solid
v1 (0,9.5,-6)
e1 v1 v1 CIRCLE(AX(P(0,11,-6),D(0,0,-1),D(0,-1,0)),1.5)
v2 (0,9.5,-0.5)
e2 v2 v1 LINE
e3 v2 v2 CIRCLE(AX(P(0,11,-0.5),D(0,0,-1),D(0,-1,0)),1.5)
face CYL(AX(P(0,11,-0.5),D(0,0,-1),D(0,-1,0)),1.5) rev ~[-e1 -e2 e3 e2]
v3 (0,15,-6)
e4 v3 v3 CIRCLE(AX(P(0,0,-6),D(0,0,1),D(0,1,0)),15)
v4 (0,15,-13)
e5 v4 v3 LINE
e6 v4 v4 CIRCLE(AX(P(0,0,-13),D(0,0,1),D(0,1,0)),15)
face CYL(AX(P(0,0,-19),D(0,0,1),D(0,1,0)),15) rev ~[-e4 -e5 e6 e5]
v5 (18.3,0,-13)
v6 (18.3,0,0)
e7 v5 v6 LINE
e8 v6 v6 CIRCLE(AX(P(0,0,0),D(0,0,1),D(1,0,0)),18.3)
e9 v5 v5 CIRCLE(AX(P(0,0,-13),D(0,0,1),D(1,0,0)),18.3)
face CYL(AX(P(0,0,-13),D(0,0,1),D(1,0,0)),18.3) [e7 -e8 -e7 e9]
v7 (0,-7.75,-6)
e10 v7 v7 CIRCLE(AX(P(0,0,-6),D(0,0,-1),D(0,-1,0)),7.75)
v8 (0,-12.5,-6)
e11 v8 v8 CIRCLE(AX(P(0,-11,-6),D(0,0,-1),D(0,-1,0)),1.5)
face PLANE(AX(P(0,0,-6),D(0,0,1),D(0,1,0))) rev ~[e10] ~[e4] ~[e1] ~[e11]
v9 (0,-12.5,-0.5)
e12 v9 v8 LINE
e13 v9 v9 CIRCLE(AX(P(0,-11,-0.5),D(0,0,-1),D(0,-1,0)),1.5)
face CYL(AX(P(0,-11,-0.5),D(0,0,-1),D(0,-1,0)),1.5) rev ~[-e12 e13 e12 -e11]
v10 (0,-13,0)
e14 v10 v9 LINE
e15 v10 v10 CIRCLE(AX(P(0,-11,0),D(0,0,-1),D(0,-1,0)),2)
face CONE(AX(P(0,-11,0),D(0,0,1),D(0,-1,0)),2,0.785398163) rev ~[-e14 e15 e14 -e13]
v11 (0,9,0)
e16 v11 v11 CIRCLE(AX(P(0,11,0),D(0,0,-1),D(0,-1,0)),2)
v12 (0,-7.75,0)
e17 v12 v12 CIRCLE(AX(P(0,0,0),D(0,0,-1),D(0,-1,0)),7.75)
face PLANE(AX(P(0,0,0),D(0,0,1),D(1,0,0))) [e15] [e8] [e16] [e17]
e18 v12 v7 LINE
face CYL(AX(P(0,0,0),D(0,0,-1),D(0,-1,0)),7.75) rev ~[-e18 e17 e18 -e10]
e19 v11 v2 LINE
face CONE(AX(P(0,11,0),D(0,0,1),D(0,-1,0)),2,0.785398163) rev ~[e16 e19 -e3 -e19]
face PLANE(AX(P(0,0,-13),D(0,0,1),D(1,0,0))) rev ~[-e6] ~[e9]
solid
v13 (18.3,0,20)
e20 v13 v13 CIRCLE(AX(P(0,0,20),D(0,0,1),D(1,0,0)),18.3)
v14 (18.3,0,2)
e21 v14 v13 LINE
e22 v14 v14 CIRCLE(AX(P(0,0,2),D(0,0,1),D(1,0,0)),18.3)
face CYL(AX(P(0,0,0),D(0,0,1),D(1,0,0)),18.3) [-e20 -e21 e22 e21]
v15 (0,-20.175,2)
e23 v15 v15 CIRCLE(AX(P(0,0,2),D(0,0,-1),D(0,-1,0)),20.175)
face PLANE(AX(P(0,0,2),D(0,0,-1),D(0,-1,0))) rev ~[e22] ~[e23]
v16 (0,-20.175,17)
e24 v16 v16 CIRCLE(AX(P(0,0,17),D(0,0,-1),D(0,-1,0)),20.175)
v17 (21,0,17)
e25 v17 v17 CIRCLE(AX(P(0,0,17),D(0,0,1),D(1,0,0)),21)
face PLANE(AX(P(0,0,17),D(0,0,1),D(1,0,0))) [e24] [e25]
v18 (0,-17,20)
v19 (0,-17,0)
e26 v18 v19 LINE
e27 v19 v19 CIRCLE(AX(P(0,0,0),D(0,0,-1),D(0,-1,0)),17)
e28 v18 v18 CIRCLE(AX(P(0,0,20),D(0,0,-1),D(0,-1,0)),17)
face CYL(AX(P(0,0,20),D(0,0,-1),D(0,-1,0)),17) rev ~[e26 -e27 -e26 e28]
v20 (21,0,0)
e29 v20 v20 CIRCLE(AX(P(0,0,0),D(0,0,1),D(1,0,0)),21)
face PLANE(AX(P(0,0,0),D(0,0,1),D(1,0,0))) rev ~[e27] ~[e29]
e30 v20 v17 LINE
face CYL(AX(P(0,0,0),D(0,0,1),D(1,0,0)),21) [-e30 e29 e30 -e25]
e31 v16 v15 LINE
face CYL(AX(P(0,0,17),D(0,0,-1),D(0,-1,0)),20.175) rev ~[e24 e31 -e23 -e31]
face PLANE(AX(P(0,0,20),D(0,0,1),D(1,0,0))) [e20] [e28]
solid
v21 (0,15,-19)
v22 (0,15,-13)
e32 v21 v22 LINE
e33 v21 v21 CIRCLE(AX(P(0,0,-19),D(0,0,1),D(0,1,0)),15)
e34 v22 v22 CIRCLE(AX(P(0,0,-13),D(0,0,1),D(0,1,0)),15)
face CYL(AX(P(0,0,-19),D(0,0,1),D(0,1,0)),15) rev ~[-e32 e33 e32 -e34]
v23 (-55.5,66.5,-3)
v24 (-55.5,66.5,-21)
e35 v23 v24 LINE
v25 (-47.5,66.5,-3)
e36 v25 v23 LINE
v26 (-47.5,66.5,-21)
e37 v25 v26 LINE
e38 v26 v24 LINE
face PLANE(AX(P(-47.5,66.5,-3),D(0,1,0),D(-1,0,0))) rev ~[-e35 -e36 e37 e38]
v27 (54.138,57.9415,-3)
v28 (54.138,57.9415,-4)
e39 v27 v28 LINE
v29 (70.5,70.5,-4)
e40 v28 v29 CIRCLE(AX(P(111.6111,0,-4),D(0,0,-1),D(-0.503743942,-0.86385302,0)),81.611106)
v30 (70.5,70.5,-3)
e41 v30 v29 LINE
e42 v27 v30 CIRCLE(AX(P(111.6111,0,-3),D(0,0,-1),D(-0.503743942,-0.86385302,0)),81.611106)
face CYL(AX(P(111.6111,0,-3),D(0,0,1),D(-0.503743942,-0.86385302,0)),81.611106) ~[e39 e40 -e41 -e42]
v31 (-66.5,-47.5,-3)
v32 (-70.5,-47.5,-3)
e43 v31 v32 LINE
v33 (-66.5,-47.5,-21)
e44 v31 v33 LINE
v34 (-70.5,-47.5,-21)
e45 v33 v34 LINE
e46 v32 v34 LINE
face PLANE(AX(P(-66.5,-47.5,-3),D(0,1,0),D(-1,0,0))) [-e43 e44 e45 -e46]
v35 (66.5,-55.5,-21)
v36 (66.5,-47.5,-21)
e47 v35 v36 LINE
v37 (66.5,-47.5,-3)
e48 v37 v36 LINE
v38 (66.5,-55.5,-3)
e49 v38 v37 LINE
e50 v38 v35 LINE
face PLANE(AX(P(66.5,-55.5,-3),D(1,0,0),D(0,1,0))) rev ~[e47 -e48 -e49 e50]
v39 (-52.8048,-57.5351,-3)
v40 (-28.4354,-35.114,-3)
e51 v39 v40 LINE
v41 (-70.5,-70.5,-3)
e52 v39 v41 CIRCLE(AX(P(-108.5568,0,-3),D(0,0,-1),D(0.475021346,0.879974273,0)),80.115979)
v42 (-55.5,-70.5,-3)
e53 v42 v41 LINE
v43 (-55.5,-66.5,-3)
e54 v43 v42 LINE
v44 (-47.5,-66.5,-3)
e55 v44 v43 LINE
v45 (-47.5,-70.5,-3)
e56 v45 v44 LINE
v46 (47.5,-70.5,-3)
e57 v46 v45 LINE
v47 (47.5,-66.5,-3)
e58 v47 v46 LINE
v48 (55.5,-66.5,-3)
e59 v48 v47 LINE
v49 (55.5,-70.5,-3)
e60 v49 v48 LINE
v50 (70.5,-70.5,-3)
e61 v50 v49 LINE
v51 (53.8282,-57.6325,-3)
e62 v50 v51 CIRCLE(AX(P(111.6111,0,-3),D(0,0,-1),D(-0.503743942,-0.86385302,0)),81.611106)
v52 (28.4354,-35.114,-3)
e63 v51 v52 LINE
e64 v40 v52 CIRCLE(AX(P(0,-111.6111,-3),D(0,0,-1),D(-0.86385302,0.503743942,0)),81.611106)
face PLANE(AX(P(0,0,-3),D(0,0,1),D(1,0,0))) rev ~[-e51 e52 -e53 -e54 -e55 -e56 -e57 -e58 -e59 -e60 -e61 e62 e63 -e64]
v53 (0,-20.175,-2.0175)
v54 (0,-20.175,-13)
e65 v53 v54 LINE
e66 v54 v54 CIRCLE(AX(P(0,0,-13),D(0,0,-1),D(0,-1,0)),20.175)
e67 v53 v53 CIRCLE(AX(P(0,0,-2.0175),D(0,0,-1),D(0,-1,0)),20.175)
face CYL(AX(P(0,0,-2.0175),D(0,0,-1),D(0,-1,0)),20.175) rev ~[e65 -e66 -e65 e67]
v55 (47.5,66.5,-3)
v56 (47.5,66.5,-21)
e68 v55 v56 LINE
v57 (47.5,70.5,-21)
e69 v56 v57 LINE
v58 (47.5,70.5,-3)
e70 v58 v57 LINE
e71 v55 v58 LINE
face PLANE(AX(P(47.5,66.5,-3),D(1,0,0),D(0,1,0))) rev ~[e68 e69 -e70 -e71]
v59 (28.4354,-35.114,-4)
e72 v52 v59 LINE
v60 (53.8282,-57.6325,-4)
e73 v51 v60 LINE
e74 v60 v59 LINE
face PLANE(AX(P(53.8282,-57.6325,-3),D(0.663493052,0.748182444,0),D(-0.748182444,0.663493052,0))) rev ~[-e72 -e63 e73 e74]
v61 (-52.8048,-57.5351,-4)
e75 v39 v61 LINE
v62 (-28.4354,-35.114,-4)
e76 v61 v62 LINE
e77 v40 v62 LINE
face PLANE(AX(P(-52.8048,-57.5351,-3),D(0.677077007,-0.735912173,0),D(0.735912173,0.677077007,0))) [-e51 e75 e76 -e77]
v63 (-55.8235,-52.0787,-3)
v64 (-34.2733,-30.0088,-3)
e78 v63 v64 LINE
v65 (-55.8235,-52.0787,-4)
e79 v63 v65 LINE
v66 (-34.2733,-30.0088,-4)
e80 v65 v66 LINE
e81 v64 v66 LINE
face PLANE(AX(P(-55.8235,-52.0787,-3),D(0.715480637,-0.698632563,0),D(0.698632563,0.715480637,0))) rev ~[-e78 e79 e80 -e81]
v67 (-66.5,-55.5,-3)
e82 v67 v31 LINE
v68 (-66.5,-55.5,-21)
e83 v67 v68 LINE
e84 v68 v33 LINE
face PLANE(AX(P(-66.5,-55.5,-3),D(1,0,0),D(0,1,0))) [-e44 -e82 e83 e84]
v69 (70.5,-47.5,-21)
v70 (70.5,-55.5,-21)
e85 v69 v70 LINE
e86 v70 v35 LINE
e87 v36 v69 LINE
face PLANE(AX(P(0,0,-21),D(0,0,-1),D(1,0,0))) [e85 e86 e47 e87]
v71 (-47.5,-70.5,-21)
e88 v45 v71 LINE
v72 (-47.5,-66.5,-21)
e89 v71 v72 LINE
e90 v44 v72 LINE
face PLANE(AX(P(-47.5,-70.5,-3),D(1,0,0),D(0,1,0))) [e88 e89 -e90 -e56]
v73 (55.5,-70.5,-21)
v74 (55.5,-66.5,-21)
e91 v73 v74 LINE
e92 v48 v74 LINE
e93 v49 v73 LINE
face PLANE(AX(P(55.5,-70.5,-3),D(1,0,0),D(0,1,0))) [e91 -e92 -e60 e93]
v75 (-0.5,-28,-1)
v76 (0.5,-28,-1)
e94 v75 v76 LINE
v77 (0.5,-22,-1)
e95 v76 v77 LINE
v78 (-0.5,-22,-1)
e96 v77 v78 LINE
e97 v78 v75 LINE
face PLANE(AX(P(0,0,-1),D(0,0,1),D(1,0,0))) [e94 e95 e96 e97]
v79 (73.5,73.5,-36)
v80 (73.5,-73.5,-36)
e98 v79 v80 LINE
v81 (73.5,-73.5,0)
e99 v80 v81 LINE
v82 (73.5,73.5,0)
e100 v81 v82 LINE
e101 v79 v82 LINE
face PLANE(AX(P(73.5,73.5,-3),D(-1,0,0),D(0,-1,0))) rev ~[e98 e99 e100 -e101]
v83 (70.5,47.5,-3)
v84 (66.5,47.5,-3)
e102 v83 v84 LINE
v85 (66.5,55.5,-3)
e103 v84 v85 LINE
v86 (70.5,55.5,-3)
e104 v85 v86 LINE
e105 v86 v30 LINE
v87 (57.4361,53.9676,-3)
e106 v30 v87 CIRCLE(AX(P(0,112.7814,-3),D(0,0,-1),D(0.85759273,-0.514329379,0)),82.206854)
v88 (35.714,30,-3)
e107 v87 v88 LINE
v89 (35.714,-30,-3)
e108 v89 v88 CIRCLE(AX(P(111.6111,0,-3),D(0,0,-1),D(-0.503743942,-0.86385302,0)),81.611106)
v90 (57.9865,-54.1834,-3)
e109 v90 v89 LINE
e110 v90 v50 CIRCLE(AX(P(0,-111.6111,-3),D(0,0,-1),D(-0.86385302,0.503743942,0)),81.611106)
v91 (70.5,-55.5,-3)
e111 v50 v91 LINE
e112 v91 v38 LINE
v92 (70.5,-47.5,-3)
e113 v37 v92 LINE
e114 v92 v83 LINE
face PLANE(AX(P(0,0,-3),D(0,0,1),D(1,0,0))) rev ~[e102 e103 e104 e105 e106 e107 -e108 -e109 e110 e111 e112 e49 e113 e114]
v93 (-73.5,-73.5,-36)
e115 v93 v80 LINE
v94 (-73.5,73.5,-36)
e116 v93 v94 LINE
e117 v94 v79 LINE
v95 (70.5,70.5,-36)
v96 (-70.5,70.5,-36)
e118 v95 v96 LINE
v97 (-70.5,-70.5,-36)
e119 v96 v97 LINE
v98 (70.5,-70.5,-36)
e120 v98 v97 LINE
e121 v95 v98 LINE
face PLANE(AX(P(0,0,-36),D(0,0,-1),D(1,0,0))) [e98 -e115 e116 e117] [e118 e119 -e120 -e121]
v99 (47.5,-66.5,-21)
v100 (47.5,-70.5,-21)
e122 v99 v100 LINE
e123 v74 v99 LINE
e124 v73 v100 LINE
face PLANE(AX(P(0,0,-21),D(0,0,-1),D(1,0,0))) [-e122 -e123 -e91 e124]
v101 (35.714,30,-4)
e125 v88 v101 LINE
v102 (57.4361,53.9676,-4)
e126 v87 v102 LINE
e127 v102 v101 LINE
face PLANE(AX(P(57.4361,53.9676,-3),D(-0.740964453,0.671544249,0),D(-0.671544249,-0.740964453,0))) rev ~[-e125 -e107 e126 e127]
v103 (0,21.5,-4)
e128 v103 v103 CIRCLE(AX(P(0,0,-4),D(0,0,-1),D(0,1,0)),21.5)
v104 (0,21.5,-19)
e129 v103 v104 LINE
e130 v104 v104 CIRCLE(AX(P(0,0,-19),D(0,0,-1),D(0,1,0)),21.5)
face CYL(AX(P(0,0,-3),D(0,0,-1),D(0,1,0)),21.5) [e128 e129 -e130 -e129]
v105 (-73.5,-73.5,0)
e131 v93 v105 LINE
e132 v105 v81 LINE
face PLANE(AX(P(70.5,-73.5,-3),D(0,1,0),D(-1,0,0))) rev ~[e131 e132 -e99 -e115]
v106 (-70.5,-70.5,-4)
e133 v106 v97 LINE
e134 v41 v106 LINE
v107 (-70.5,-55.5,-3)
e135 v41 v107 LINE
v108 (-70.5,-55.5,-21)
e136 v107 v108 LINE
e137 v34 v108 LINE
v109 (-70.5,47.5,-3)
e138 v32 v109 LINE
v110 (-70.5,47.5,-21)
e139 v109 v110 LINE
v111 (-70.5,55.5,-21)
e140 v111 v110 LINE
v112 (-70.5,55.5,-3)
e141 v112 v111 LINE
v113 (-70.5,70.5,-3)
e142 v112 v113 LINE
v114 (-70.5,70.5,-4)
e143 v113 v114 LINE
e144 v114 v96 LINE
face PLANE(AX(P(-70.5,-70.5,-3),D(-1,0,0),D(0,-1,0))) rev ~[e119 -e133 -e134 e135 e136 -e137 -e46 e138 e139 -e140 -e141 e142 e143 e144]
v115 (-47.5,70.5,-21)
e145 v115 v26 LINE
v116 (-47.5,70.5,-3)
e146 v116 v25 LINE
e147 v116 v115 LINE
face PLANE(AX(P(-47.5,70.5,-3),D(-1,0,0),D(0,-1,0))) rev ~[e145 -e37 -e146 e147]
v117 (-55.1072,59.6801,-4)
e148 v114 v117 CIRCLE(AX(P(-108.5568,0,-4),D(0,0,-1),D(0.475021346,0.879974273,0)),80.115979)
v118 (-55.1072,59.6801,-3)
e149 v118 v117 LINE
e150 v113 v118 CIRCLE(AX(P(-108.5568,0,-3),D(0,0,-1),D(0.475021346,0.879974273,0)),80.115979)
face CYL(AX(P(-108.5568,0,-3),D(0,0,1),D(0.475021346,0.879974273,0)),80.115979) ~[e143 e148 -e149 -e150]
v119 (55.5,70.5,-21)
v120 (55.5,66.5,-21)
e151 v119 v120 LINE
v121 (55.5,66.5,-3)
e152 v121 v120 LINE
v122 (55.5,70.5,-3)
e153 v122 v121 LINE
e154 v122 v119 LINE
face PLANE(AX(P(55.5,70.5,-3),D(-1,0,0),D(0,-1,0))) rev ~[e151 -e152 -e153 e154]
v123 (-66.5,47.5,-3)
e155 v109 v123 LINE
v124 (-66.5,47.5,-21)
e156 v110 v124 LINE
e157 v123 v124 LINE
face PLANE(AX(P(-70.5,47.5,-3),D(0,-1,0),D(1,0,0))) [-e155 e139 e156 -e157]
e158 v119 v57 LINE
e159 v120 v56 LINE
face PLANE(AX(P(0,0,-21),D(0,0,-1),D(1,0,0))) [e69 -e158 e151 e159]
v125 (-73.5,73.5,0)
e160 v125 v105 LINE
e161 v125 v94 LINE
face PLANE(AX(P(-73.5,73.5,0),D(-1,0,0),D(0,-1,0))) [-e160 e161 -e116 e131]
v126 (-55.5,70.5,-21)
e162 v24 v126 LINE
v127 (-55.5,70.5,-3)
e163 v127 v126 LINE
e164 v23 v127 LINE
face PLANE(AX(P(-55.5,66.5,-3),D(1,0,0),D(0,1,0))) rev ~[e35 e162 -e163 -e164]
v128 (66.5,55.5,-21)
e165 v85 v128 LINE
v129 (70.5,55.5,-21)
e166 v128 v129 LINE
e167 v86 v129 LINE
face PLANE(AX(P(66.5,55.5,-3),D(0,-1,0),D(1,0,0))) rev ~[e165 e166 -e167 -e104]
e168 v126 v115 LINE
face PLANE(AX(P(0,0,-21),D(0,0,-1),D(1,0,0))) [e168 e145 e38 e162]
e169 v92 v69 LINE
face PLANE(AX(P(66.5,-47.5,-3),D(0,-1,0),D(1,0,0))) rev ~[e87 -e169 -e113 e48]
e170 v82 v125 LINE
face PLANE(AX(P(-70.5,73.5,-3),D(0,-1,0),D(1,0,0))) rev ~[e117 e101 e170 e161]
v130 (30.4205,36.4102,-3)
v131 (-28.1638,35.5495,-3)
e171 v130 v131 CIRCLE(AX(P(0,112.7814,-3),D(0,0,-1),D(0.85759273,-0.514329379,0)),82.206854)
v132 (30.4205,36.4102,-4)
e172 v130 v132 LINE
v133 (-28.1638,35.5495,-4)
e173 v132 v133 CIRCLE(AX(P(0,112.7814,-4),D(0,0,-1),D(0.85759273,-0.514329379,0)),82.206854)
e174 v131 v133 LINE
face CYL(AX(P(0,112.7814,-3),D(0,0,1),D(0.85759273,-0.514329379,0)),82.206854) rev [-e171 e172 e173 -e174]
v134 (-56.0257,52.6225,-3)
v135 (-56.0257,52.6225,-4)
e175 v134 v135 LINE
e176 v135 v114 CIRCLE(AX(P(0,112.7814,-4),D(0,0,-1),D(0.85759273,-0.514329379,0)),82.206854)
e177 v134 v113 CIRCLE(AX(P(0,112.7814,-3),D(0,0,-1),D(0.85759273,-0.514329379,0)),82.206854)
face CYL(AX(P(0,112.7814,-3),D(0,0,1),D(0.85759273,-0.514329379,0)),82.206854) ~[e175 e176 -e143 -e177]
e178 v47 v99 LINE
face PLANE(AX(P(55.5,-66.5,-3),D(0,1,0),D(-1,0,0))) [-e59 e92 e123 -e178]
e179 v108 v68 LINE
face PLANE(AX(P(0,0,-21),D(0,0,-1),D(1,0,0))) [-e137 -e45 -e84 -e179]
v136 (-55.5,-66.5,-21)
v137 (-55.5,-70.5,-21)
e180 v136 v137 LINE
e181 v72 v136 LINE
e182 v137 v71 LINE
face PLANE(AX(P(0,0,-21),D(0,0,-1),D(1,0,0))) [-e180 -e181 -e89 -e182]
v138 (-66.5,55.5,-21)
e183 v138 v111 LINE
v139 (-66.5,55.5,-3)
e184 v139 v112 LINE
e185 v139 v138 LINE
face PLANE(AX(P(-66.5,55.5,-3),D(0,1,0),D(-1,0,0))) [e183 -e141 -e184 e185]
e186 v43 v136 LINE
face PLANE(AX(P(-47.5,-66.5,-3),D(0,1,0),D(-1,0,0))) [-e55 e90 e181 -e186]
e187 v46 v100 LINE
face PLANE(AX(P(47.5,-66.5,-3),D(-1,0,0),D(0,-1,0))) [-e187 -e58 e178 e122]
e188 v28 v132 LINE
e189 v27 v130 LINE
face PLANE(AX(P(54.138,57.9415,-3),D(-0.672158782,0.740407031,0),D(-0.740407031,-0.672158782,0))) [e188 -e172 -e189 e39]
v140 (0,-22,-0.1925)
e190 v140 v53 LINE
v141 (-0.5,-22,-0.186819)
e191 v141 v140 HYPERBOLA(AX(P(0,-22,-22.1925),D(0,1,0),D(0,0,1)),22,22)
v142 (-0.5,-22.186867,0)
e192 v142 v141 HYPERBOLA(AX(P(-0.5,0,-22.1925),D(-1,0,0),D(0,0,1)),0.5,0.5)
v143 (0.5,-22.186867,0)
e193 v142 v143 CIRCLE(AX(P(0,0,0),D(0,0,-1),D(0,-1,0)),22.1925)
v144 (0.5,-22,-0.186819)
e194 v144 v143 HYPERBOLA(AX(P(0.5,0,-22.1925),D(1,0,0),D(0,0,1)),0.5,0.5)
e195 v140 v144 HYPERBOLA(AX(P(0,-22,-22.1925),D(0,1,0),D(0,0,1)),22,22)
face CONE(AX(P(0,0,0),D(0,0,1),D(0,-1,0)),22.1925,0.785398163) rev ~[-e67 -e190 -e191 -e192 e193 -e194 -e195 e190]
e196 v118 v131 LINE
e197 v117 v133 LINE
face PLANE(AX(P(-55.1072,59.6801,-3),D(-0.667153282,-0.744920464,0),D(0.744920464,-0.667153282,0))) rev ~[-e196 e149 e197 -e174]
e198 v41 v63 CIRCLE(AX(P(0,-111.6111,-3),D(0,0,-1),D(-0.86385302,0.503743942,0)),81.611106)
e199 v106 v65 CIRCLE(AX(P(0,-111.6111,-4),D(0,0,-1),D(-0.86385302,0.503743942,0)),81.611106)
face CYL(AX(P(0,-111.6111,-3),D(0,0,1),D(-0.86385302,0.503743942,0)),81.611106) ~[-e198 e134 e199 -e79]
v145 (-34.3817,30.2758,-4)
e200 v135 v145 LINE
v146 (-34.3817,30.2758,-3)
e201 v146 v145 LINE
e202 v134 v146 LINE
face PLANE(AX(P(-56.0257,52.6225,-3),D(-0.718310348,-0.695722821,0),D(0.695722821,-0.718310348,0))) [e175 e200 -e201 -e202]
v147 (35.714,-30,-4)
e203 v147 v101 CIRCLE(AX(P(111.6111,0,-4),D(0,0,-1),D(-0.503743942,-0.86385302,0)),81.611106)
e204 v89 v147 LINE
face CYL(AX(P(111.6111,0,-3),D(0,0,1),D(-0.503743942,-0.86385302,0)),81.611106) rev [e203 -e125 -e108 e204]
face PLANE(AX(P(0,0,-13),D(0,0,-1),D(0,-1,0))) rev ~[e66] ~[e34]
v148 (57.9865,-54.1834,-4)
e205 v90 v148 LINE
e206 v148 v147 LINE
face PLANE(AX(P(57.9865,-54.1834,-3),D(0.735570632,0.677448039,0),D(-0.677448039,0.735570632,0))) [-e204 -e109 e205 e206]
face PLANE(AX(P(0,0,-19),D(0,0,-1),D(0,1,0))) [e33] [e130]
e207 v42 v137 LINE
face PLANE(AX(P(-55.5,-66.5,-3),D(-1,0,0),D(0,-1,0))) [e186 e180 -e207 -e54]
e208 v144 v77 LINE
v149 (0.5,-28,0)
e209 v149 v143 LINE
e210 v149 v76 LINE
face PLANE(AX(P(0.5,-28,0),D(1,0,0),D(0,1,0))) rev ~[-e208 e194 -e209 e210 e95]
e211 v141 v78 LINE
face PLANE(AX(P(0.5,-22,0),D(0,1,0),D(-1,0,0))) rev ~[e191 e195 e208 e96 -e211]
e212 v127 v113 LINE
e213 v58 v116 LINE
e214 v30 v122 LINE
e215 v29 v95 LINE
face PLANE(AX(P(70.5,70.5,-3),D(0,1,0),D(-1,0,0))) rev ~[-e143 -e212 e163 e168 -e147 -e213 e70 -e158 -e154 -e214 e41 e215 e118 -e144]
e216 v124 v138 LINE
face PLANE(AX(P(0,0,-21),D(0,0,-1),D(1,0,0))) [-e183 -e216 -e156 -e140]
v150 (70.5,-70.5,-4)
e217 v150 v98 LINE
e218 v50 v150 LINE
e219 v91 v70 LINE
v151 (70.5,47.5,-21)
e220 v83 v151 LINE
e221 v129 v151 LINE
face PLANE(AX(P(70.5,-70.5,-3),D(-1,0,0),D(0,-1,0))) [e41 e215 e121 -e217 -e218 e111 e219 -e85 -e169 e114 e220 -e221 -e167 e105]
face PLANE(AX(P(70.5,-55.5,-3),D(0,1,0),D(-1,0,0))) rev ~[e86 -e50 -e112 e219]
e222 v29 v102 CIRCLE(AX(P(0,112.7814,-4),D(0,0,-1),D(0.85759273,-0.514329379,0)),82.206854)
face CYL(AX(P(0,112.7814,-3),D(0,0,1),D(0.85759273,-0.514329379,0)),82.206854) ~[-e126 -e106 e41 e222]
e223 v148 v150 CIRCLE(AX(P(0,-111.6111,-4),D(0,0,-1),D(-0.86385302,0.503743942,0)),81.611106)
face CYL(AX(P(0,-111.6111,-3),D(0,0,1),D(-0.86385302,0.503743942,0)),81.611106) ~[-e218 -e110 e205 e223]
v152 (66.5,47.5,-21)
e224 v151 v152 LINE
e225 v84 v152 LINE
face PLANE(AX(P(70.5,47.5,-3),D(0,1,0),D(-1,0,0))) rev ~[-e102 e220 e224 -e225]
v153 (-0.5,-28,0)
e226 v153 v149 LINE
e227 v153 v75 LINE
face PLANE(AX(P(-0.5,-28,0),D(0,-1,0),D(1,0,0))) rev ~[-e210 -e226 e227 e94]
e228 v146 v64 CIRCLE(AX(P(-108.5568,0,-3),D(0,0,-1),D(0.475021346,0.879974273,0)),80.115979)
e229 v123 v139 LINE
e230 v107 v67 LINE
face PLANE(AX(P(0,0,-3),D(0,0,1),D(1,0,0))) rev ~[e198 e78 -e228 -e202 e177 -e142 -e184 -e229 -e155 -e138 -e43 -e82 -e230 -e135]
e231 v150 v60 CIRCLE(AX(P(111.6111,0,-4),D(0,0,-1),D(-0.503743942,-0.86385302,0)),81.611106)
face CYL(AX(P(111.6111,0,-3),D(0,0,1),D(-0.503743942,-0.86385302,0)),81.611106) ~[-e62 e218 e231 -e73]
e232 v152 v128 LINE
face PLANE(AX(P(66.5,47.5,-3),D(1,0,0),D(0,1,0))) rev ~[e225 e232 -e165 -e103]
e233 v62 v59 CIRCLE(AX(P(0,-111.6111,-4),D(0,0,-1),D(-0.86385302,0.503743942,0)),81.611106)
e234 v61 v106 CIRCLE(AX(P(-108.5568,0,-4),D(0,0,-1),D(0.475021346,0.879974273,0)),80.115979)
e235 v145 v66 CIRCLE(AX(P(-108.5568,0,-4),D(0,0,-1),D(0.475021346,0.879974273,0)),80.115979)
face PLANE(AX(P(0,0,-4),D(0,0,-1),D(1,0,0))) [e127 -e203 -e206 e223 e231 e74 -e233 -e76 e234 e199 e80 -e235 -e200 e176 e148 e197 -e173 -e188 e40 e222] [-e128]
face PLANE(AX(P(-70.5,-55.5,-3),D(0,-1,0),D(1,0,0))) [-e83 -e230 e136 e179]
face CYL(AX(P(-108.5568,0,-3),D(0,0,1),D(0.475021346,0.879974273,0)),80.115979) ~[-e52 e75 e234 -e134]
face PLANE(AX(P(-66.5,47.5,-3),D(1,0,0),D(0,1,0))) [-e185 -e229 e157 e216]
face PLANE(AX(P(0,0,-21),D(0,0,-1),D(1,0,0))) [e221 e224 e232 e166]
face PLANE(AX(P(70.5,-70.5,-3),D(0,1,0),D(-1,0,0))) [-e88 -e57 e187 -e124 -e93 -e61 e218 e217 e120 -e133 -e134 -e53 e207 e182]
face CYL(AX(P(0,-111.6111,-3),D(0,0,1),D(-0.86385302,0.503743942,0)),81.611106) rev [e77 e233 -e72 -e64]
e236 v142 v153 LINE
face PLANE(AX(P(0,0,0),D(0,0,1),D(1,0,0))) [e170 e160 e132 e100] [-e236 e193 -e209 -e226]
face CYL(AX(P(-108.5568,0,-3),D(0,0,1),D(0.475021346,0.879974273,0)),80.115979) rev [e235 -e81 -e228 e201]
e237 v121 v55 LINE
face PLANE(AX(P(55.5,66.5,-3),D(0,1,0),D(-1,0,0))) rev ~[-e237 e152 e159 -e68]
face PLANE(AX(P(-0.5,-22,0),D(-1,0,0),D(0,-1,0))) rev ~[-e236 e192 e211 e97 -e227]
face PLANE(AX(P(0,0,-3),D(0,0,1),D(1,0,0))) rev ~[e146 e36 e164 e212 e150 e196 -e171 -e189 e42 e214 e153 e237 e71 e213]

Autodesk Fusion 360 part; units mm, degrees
sketch "Sketch1" plane through (0, 0, 0) normal (0, 0, 1) x (1, 0, 0)
cylinder "CylinderPrimitive1" add diameter 42 height 2 placed x (1, 0, 0) y (0, 1, 0) z (0, 0, 1) at (0, 0, 0) makes body 1
cylinder "CylinderPrimitive2" add diameter 42 height 15 placed x (1, 0, 0) y (0, 1, 0) z (0, 0, 1) at (0, 0, 2) bodies 1
hole "Hole1" at (0, 0, 17) direction (0, 0, -1) diameter 40.35 depth 15 tip angle 180 bodies 1
cylinder "CylinderPrimitive3" add diameter 36.6 height 20 placed x (1, 0, 0) y (0, 1, 0) z (0, 0, 1) at (0, 0, 0) bodies 1
hole "Hole2" at (0, 0, 20) direction (0, 0, -1) diameter 34 depth 20 tip angle 180 bodies 1
copy_body "Body->Comp1" bodies 1 removing the originals makes body 2 in component "Component"
sketch "Sketch1 (2)" plane through (0, 0, 0) normal (0, 0, 1) x (1, 0, 0) in component "TopCover"
  line L0 (-73.5, -73.5) -> (73.5, -73.5)
  line L1 (73.5, -73.5) -> (73.5, 73.5)
  line L2 (73.5, 73.5) -> (-73.5, 73.5)
  line L3 (-73.5, 73.5) -> (-73.5, -73.5)
  line L4 (-73.5, -73.5) -> (73.5, 73.5) construction
  line L5 (73.5, -73.5) -> (-73.5, 73.5) construction
  dimension "d13" = 147
  dimension "d14" = 147
extrude "Extrude1" add sketch "Sketch1 (2)" against normal blind 3 separate body makes body 3 in component "TopCover"
sketch "Sketch2" plane through (0, 0, -3) normal (0, 0, -1) x (1, 0, 0) in component "TopCover"
  line L0 (-73.5, 73.5) -> (-73.5, -73.5)
  line L1 (-73.5, -73.5) -> (73.5, -73.5)
  line L2 (73.5, -73.5) -> (73.5, 73.5)
  line L3 (73.5, 73.5) -> (-73.5, 73.5)
  line L4 (73.5, -73.5) -> (70.5, -73.5)
  line L5 (70.5, -73.5) -> (70.5, 73.5)
  line L6 (70.5, 73.5) -> (73.5, 73.5)
  line L7 (73.5, 73.5) -> (73.5, -73.5)
  line L8 (-73.5, -73.5) -> (-70.5, -73.5)
  line L9 (-70.5, -73.5) -> (-70.5, 73.5)
  line L10 (-70.5, 73.5) -> (-73.5, 73.5)
  line L11 (-73.5, 73.5) -> (-73.5, -73.5)
  line L12 (-70.5, 73.5) -> (70.5, 73.5)
  line L13 (70.5, 73.5) -> (70.5, 70.5)
  line L14 (70.5, 70.5) -> (-70.5, 70.5)
  line L15 (-70.5, 70.5) -> (-70.5, 73.5)
  line L16 (-70.5, -73.5) -> (70.5, -73.5)
  line L17 (70.5, -73.5) -> (70.5, -70.5)
  line L18 (70.5, -70.5) -> (-70.5, -70.5)
  line L19 (-70.5, -70.5) -> (-70.5, -73.5)
  dimension "d17" = 3
  dimension "d18" = 3
  dimension "d23" = 3
  dimension "d24" = 3
extrude "Extrude2" add sketch "Sketch2" along normal blind 33 contours L0 L1 L3 L8 L9 L10 L11 L15 L19 bodies 3 in component "TopCover"
extrude "Extrude3" add sketch "Sketch2" along normal blind 33 contours L1 L2 L3 L4 L5 L6 L7 L13 L17 bodies 3 in component "TopCover"
extrude "Extrude4" add sketch "Sketch2" along normal blind 33 contours L3 L5 L9 L12 L13 L14 L15 bodies 3 in component "TopCover"
extrude "Extrude5" add sketch "Sketch2" along normal blind 33 contours L1 L5 L9 L16 L17 L18 L19 bodies 3 in component "TopCover"
sketch "Sketch3" plane through (0, 0, -3) normal (0, 0, -1) x (1, 0, 0) in component "TopCover"
  arc A0 (70.5, 70.5) -> (70.5, -70.5) centre (111.6111, 0) ccw
  arc A1 (70.5, -70.5) -> (-70.5, -70.5) centre (0, -112.7814) ccw
  arc A2 (-70.5, -70.5) -> (-70.5, 70.5) centre (-108.5568, 0) ccw
  arc A3 (-70.5, 70.5) -> (70.5, 70.5) centre (0, 111.6111) ccw
  line L0 (-52.8048, 57.5351) -> (-28.4354, 35.114)
  line L1 (53.8282, 57.6325) -> (28.4354, 35.114)
  line L2 (57.9865, 54.1834) -> (35.714, 30)
  line L3 (57.4361, -53.9676) -> (35.714, -30)
  line L4 (54.138, -57.9415) -> (30.4205, -36.4102)
  line L5 (-55.1072, -59.6801) -> (-28.1638, -35.5495)
  line L6 (-56.0257, -52.6225) -> (-34.3817, -30.2758)
  line L7 (-55.8235, 52.0787) -> (-34.2733, 30.0088)
  point P0 (-70.5, 70.5)
  point P1 (70.5, 70.5)
  point P2 (70.5, -70.5)
  point P3 (-70.5, -70.5)
extrude "Extrude6" add sketch "Sketch3" along normal blind 1 separate body makes body 4 in component "TopCover"
cylinder "CylinderPrimitive1'" add diameter 43 height 16 placed x (0, 1, 0) y (1, 0, 0) z (0, 0, -1) at (0, 0, -3) bodies 4 3 in component "TopCover"
hole "Hole3" at (0, 0, 0) direction (0, 0, -1) diameter 40.35 depth 13 tip angle 180 countersink diameter 44.385 countersink angle 90 bodies 4 in component "TopCover"
cylinder "CylinderPrimitive2'" add diameter 36.6 height -13 placed x (1, 0, 0) y (0, 1, 0) z (0, 0, 1) at (0, 0, 0) separate body makes body 5 in component "TopCover"
hole "Hole4" at (0, 0, -19) direction (0, 0, 1) diameter 30 depth 13 tip angle 180 bodies 4 5 in component "TopCover"
sketch "Sketch4" plane through (0, 0, -3) normal (0, 0, -1) x (1, 0, 0) in component "TopCover"
  line L0 (-55.5, 70.5) -> (-47.5, 70.5)
  line L1 (-47.5, 70.5) -> (-47.5, 66.5)
  line L2 (-47.5, 66.5) -> (-55.5, 66.5)
  line L3 (-55.5, 66.5) -> (-55.5, 70.5)
  line L4 (70.5, 70.5) -> (-70.5, 70.5)
  line L5 (55.5, 70.5) -> (55.5, 66.5)
  line L6 (47.5, 70.5) -> (55.5, 70.5)
  line L7 (47.5, 66.5) -> (47.5, 70.5)
  line L8 (55.5, 66.5) -> (47.5, 66.5)
  line L9 (-55.5, -70.5) -> (-47.5, -70.5)
  line L10 (-47.5, -70.5) -> (-47.5, -66.5)
  line L11 (-47.5, -66.5) -> (-55.5, -66.5)
  line L12 (-55.5, -66.5) -> (-55.5, -70.5)
  line L13 (70.5, -70.5) -> (-70.5, -70.5)
  line L14 (47.5, -70.5) -> (55.5, -70.5)
  line L15 (55.5, -70.5) -> (55.5, -66.5)
  line L16 (55.5, -66.5) -> (47.5, -66.5)
  line L17 (47.5, -66.5) -> (47.5, -70.5)
  line L18 (-70.5, 55.5) -> (-66.5, 55.5)
  line L19 (-66.5, 55.5) -> (-66.5, 47.5)
  line L20 (-66.5, 47.5) -> (-70.5, 47.5)
  line L21 (-70.5, 47.5) -> (-70.5, 55.5)
  line L22 (-70.5, -73.5) -> (-70.5, 73.5)
  line L23 (-70.5, -47.5) -> (-66.5, -47.5)
  line L24 (-66.5, -47.5) -> (-66.5, -55.5)
  line L25 (-66.5, -55.5) -> (-70.5, -55.5)
  line L26 (-70.5, -55.5) -> (-70.5, -47.5)
  line L27 (70.5, 55.5) -> (66.5, 55.5)
  line L28 (66.5, 55.5) -> (66.5, 47.5)
  line L29 (66.5, 47.5) -> (70.5, 47.5)
  line L30 (70.5, 47.5) -> (70.5, 55.5)
  line L31 (70.5, -73.5) -> (70.5, 73.5)
  line L32 (70.5, -47.5) -> (66.5, -47.5)
  line L33 (66.5, -47.5) -> (66.5, -55.5)
  line L34 (66.5, -55.5) -> (70.5, -55.5)
  line L35 (70.5, -55.5) -> (70.5, -47.5)
  dimension "d31" = 8
  dimension "d32" = 4
  dimension "d33" = 8
  dimension "d34" = 4
  dimension "d35" = 15
  dimension "d36" = 15
  dimension "d37" = 8
  dimension "d38" = 4
  dimension "d39" = 8
  dimension "d40" = 4
  dimension "d41" = 4
  dimension "d42" = 8
  dimension "d43" = 4
  dimension "d44" = 8
  dimension "d45" = 4
  dimension "d46" = 8
  dimension "d47" = 4
  dimension "d48" = 8
  dimension "d49" = 15
  dimension "d50" = 15
  dimension "d51" = 15
  dimension "d52" = 15
  dimension "d53" = 15
  dimension "d54" = 15
extrude "Extrude7" add sketch "Sketch4" along normal blind 18 contours L0 L1 L2 L3 L4 | L4 L5 L6 L7 L8 | L18 L19 L20 L21 L22 | L22 L23 L24 L25 L26 | L27 L28 L29 L30 L31 | L31 L32 L33 L34 L35 | L9 L10 L11 L12 L13 | L13 L14 L15 L16 L17 bodies 4 in component "TopCover"
hole "Hole1'" at (0, 0, 0) direction (0, 0, -1) diameter 15.5 depth 10 tip angle 180 bodies 5 in component "TopCover"
sketch "Sketch5" plane through (0, 0, 0) normal (0, 0, 1) x (1, 0, 0) in component "TopCover"
  point P0 (0, -11)
  point P1 (0, 11)
  dimension "d60" = 11
  dimension "d61" = 11
hole "Hole2'" at (0, 11, 0) at (0, -11, 0) direction (0, 0, -1) diameter 3 depth 6 tip angle 180 countersink diameter 4 countersink angle 90 bodies 5 in component "TopCover"
sketch "Sketch9" plane through (0, 0, 0) normal (0, 0, 1) x (1, 0, 0) in component "TopCover"
  line L0 (0.5, -22) -> (-0.5, -22)
  line L1 (-0.5, -22) -> (-0.5, -28)
  line L2 (-0.5, -28) -> (0.5, -28)
  line L3 (0.5, -28) -> (0.5, -22)
  line L4 (0.5, -22) -> (-0.5, -28) construction
  line L5 (-0.5, -22) -> (0.5, -28) construction
  point P0 (0, -25)
  dimension "d79" = 1
  dimension "d80" = 6
extrude "Extrude8" cut sketch "Sketch9" against normal blind 1 bodies 4 in component "TopCover"
component "TopCover" placed x (1, 0, 0) y (0, 1, 0) z (0, 0, 1) at (0, 0, 0)
component "Component" placed x (1, 0, 0) y (0, 1, 0) z (0, 0, 1) at (0, 0, 0)
